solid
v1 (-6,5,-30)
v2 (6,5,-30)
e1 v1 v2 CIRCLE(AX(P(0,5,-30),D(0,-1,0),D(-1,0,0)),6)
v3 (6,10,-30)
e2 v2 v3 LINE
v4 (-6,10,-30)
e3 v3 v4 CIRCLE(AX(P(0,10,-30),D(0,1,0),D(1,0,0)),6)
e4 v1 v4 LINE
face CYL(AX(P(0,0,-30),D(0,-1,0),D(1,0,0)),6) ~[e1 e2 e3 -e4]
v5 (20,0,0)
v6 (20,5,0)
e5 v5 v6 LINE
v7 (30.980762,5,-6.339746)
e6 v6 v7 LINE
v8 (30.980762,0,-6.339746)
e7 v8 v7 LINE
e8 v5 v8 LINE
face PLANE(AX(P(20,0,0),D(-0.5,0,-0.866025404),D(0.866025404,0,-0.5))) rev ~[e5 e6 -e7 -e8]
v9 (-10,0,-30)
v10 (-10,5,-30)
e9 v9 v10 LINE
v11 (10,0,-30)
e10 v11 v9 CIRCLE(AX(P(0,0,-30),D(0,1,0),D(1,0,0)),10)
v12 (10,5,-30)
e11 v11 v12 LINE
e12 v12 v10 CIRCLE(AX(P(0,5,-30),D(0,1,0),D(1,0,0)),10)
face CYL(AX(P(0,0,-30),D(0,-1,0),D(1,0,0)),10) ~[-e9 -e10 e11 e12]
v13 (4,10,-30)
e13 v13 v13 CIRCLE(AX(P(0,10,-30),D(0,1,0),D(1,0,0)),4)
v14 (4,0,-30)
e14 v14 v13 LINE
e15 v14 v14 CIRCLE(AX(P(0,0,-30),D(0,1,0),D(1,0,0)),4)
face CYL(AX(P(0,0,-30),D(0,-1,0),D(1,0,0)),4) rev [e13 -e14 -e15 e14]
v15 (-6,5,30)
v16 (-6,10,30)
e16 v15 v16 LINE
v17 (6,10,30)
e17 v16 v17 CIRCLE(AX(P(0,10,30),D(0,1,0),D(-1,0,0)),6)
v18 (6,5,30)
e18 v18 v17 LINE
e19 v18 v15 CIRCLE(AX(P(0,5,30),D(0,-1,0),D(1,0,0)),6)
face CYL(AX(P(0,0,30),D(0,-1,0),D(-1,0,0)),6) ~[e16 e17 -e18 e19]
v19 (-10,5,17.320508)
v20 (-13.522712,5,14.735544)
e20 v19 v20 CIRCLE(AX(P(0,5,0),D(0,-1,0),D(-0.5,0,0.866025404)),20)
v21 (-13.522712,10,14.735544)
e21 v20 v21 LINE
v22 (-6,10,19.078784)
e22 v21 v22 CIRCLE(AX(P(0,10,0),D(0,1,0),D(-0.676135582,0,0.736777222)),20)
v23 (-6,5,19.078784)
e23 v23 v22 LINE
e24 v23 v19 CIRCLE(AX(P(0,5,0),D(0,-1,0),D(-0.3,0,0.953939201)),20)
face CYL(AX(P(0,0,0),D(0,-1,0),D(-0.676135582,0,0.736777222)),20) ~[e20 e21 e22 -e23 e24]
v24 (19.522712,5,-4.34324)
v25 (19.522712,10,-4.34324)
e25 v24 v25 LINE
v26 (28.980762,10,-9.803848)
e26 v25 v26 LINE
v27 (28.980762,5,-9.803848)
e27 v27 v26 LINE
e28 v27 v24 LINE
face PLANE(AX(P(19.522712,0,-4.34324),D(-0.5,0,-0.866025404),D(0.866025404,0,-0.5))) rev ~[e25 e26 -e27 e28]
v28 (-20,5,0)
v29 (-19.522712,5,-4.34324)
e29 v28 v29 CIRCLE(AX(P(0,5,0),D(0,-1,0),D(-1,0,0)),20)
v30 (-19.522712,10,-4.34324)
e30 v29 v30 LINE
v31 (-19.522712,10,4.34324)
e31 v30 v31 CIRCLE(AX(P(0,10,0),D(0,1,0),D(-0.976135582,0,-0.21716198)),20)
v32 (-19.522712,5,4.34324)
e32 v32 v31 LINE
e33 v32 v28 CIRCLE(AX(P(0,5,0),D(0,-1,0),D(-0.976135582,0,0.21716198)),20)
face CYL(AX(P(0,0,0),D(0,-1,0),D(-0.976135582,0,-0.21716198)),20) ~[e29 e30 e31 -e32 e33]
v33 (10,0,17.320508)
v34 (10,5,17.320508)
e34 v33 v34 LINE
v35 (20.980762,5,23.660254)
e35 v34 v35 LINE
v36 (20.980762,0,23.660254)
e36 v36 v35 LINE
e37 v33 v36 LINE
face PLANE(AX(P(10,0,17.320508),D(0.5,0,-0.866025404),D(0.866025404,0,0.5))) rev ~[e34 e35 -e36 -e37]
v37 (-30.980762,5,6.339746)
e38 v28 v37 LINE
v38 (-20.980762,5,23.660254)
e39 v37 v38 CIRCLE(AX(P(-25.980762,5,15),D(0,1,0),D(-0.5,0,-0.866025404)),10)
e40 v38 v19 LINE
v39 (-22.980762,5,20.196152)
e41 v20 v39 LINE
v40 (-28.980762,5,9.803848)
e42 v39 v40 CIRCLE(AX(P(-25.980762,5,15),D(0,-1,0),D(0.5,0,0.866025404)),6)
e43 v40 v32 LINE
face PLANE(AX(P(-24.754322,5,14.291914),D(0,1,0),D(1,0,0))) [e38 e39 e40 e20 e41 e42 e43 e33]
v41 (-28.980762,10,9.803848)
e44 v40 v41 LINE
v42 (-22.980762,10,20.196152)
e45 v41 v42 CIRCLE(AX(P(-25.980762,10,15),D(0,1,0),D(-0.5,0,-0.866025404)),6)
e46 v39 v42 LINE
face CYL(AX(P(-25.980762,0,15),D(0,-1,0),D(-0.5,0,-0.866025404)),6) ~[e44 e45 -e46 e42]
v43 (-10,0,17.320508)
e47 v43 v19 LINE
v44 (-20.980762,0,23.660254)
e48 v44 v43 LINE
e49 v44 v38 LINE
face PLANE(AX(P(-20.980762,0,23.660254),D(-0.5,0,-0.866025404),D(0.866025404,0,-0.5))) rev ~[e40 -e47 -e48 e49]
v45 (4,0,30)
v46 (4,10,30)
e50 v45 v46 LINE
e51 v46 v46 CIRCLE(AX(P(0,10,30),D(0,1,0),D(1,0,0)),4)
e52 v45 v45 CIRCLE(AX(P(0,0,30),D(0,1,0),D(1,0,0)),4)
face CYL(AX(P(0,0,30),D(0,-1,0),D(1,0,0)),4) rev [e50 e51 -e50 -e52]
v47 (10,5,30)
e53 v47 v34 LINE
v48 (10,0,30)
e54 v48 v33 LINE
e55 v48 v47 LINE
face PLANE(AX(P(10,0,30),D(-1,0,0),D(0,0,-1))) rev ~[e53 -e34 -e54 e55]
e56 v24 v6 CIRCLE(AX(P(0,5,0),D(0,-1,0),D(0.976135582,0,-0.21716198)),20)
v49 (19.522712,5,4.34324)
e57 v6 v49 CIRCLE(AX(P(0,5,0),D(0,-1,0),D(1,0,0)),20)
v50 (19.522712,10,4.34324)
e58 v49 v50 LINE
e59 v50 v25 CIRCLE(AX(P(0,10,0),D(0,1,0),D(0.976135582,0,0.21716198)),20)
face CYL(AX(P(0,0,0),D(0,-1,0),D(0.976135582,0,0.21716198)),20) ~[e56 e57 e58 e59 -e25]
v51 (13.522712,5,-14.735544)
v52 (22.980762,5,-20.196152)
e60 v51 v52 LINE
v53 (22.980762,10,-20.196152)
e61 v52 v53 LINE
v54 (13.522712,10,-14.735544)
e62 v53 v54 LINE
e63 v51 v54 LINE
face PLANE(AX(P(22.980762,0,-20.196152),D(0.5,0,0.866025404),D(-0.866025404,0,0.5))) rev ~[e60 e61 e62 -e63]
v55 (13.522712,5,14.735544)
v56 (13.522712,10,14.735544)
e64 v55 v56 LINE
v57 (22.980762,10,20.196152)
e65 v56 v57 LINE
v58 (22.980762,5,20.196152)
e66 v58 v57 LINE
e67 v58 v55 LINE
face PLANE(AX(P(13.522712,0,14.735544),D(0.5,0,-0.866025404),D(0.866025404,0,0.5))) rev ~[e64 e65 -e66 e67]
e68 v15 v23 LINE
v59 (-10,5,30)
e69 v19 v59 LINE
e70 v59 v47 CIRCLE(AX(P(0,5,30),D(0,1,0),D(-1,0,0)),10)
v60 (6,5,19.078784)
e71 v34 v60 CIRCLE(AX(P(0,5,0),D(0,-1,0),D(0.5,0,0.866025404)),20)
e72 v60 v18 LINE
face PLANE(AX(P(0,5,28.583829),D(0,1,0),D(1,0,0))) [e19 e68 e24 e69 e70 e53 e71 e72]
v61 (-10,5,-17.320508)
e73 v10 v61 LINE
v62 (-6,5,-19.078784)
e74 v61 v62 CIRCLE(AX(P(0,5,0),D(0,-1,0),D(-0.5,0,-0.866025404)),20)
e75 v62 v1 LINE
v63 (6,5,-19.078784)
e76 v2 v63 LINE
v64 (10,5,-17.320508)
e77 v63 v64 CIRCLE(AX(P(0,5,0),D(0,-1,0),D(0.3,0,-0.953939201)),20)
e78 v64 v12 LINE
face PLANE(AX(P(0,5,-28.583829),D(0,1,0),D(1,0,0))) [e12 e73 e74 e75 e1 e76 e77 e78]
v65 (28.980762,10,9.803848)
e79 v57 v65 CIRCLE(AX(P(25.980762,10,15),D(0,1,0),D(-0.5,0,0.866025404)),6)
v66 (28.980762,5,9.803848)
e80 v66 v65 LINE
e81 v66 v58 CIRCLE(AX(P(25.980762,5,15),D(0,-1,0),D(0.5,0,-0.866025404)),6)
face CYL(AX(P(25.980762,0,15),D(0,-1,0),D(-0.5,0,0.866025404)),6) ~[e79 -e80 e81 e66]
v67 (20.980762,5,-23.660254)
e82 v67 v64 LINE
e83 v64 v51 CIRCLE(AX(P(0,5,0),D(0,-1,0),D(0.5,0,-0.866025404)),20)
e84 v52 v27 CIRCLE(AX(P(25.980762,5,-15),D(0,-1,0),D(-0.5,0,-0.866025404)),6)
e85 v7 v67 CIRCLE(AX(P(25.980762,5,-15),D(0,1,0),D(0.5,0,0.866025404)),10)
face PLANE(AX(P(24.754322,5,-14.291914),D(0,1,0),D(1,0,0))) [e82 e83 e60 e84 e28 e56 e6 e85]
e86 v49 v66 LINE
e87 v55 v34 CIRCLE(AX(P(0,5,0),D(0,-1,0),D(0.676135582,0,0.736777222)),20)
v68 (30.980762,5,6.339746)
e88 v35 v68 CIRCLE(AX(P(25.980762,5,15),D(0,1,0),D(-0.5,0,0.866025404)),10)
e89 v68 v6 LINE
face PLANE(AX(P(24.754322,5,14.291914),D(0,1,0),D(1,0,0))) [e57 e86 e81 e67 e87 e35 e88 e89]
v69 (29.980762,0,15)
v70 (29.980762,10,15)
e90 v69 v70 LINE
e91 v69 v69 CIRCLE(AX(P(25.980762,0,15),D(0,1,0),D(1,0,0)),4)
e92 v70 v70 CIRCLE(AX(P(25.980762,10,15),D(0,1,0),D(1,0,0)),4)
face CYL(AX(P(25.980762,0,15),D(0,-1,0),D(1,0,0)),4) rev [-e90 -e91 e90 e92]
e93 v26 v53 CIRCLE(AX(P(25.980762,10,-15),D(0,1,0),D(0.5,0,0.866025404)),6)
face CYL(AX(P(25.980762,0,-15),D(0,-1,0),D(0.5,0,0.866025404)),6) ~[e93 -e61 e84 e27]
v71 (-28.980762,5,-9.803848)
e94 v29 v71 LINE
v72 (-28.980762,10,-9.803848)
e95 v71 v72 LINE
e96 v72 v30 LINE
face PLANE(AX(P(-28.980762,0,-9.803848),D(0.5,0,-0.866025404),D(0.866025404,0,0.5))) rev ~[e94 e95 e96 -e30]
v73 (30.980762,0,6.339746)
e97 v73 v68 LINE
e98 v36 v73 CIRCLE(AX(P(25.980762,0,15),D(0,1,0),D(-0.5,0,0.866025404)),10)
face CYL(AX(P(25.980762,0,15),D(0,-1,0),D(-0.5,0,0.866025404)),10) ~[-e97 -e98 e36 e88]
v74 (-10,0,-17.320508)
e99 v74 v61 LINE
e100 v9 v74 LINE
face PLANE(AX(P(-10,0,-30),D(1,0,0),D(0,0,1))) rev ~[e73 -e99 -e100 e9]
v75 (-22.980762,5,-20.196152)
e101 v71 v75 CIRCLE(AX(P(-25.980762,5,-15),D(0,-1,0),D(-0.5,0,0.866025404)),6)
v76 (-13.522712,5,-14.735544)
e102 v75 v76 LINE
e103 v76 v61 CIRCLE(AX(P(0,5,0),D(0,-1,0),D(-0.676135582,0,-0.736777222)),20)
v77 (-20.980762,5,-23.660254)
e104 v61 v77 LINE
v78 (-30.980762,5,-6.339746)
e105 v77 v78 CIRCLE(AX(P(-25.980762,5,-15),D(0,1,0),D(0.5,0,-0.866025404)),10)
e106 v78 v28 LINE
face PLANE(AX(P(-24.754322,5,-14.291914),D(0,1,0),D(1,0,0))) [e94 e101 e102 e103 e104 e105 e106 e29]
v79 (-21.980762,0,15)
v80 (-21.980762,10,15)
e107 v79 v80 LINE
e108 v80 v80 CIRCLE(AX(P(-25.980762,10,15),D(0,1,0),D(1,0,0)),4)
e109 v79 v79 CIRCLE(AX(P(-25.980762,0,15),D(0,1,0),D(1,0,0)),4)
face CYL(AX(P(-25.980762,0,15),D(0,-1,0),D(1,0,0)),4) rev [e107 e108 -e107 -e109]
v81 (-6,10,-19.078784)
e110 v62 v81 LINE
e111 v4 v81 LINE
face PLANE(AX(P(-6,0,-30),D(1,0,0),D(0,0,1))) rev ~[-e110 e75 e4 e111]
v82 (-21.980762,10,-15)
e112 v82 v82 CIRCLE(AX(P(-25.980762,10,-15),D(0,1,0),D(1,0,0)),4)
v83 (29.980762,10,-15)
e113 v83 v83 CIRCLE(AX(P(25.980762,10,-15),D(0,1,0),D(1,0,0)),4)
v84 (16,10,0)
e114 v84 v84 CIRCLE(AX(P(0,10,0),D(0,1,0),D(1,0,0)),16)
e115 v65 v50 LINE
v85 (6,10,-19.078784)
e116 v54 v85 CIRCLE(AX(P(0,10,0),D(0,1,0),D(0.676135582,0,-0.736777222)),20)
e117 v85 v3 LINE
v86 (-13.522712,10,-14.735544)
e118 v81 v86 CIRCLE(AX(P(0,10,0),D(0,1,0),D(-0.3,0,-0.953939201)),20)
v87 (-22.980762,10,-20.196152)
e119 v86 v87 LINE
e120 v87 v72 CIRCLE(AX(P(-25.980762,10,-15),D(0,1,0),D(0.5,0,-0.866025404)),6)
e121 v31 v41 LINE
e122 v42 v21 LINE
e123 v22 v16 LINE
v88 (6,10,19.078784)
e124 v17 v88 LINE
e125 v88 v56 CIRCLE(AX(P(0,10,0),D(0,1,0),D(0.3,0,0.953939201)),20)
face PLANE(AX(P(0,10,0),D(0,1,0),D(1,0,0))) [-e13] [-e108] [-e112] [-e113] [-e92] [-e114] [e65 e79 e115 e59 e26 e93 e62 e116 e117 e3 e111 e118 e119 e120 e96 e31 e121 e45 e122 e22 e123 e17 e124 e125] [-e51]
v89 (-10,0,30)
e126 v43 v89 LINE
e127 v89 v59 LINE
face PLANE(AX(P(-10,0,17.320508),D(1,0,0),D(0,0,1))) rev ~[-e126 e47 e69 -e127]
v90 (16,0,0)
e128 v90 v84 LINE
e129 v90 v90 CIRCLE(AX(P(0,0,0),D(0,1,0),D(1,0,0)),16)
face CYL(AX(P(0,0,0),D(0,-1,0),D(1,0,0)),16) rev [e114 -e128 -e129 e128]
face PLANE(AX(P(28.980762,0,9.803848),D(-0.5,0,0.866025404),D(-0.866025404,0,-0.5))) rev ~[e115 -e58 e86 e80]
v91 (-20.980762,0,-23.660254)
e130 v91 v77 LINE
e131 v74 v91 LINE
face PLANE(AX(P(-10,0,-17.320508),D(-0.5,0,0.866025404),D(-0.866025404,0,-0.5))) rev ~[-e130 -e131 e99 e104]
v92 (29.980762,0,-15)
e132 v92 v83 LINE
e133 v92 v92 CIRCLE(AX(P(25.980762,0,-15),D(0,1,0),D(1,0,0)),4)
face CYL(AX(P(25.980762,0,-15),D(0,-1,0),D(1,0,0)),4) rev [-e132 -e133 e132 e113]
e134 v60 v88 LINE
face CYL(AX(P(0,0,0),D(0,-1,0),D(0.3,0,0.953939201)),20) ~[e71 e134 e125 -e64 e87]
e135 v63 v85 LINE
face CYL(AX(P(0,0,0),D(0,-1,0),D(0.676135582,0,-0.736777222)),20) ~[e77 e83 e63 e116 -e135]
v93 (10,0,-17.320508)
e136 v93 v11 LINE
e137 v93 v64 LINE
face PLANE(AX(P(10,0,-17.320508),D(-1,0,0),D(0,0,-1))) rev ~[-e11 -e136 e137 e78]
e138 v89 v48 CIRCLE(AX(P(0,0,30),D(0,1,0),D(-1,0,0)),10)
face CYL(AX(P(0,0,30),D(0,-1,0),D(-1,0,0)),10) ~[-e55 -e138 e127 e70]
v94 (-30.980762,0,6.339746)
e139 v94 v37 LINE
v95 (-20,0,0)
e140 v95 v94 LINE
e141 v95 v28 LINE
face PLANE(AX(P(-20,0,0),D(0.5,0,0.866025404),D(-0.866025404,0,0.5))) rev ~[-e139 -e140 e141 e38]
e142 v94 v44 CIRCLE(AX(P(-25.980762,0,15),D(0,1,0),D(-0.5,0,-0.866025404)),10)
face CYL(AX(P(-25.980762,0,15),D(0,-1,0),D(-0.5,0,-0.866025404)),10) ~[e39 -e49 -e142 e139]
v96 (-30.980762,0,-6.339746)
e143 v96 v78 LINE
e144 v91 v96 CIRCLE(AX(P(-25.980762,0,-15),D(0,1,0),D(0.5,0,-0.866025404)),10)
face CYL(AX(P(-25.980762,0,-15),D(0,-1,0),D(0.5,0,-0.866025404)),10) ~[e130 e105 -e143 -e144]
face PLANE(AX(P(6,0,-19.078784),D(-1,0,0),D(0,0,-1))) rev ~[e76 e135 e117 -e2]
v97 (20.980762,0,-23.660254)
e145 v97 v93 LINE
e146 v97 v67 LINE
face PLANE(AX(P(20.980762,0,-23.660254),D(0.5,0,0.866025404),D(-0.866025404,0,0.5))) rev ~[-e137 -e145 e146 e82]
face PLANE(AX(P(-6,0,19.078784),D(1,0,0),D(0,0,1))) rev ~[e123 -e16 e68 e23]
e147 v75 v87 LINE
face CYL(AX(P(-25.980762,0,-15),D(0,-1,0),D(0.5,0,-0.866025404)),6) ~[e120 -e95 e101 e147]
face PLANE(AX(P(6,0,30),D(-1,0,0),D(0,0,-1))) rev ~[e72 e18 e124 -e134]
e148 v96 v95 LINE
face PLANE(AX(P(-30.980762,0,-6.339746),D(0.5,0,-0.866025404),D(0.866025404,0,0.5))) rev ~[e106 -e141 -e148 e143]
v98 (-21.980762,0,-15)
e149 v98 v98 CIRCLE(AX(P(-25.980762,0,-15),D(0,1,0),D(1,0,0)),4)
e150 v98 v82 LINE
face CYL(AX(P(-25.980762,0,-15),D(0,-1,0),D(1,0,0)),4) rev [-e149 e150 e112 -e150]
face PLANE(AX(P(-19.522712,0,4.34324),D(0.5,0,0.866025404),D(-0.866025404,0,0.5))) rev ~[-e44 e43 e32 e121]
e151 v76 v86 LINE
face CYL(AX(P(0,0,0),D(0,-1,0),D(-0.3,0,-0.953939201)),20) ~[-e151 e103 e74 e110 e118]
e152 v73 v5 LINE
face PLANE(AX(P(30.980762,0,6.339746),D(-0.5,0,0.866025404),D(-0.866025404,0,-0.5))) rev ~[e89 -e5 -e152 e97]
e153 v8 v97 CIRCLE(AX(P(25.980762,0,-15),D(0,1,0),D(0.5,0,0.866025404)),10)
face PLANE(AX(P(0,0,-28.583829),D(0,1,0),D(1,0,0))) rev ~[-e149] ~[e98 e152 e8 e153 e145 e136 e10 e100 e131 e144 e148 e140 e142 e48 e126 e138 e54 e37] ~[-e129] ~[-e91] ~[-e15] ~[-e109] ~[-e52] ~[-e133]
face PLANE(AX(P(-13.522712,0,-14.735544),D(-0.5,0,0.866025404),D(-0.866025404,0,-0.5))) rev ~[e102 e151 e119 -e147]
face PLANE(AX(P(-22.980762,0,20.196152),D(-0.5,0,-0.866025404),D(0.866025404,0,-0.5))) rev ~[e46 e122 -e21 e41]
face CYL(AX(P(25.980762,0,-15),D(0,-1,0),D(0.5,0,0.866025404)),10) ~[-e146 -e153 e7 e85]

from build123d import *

# Parameters (mm, degrees)
SKETCH1_R           = 4
SKETCH1_R_2         = 16
BOSS_EXTRUDE1_DEPTH = 10
BOSS_EXTRUDE2_DEPTH = 5


with BuildPart() as part:
    # Sketch1 → Boss-Extrude1 (new body)
    with BuildSketch(Plane(origin=(0, 0, 0), x_dir=(1, 0, 0), z_dir=(0, 1, 0))):
        with BuildLine():
            ThreePointArc((-6, -30), (0, -36), (6, -30))
            Line((6, -30), (6, -19.078784028))
            ThreePointArc((6, -19.078784028), (10, -17.320508076), (13.522711642, -14.735544437))
            Line((13.522711642, -14.735544437), (22.980762114, -20.196152423))
            ThreePointArc((22.980762114, -20.196152423), (31.176914536, -18), (28.980762114, -9.803847577))
            Line((28.980762114, -9.803847577), (19.522711642, -4.343239591))
            ThreePointArc((19.522711642, -4.343239591), (20, 0), (19.522711642, 4.343239591))
            Line((19.522711642, 4.343239591), (28.980762114, 9.803847577))
            ThreePointArc((28.980762114, 9.803847577), (31.176914536, 18), (22.980762114, 20.196152423))
            Line((22.980762114, 20.196152423), (13.522711642, 14.735544437))
            ThreePointArc((13.522711642, 14.735544437), (10, 17.320508076), (6, 19.078784028))
            Line((6, 19.078784028), (6, 30))
            ThreePointArc((6, 30), (0, 36), (-6, 30))
            Line((-6, 30), (-6, 19.078784028))
            ThreePointArc((-6, 19.078784028), (-10, 17.320508076), (-13.522711642, 14.735544437))
            Line((-13.522711642, 14.735544437), (-22.980762114, 20.196152423))
            ThreePointArc((-22.980762114, 20.196152423), (-31.176914536, 18), (-28.980762114, 9.803847577))
            Line((-28.980762114, 9.803847577), (-19.522711642, 4.343239591))
            ThreePointArc((-19.522711642, 4.343239591), (-20, 0), (-19.522711642, -4.343239591))
            Line((-19.522711642, -4.343239591), (-28.980762114, -9.803847577))
            ThreePointArc((-28.980762114, -9.803847577), (-31.176914536, -18), (-22.980762114, -20.196152423))
            Line((-22.980762114, -20.196152423), (-13.522711642, -14.735544437))
            ThreePointArc((-13.522711642, -14.735544437), (-10, -17.320508076), (-6, -19.078784028))
            Line((-6, -19.078784028), (-6, -30))
        make_face()
        with Locations((0, 30)):
            Circle(SKETCH1_R, mode=Mode.SUBTRACT)
        Circle(SKETCH1_R_2, mode=Mode.SUBTRACT)
        with Locations((0, -30)):
            Circle(SKETCH1_R, mode=Mode.SUBTRACT)
        with Locations((-25.980762114, -15)):
            Circle(SKETCH1_R, mode=Mode.SUBTRACT)
        with Locations((-25.980762114, 15)):
            Circle(SKETCH1_R, mode=Mode.SUBTRACT)
        with Locations((25.980762114, -15)):
            Circle(SKETCH1_R, mode=Mode.SUBTRACT)
        with Locations((25.980762114, 15)):
            Circle(SKETCH1_R, mode=Mode.SUBTRACT)
    extrude(amount=BOSS_EXTRUDE1_DEPTH)

    # Sketch1<5> → Boss-Extrude2 (add)
    with BuildSketch(Plane(origin=(0, 0, 0), x_dir=(1, 0, 0), z_dir=(0, 1, 0))):
        with BuildLine():
            ThreePointArc((10, 30), (0, 40), (-10, 30))
            Line((-10, 30), (-10, 17.320508076))
            ThreePointArc((-10, 17.320508076), (-8.048160261, 18.309208514), (-6, 19.078784028))
            Line((-6, 19.078784028), (-6, 30))
            ThreePointArc((-6, 30), (0, 36), (6, 30))
            Line((6, 30), (6, 19.078784028))
            ThreePointArc((6, 19.078784028), (8.048160261, 18.309208514), (10, 17.320508076))
            Line((10, 17.320508076), (10, 30))
        make_face()
        with BuildLine():
            ThreePointArc((-13.522711642, 14.735544437), (-11.832159566, 16.124515497), (-10, 17.320508076))
            Line((-10, 17.320508076), (-20.980762114, 23.660254038))
            ThreePointArc((-20.980762114, 23.660254038), (-34.641016151, 20), (-30.980762114, 6.339745962))
            Line((-30.980762114, 6.339745962), (-20, 0))
            ThreePointArc((-20, 0), (-19.880319827, 2.184693018), (-19.522711642, 4.343239591))
            Line((-19.522711642, 4.343239591), (-28.980762114, 9.803847577))
            ThreePointArc((-28.980762114, 9.803847577), (-31.176914536, 18), (-22.980762114, 20.196152423))
            Line((-22.980762114, 20.196152423), (-13.522711642, 14.735544437))
        make_face()
        with BuildLine():
            Line((20.980762114, 23.660254038), (10, 17.320508076))
            ThreePointArc((10, 17.320508076), (11.832159566, 16.124515497), (13.522711642, 14.735544437))
            Line((13.522711642, 14.735544437), (22.980762114, 20.196152423))
            ThreePointArc((22.980762114, 20.196152423), (31.176914536, 18), (28.980762114, 9.803847577))
            Line((28.980762114, 9.803847577), (19.522711642, 4.343239591))
            ThreePointArc((19.522711642, 4.343239591), (19.880319827, 2.184693018), (20, 0))
            Line((20, 0), (30.980762114, 6.339745962))
            ThreePointArc((30.980762114, 6.339745962), (34.641016151, 20), (20.980762114, 23.660254038))
        make_face()
        with BuildLine():
            ThreePointArc((-19.522711642, -4.343239591), (-19.880319827, -2.184693018), (-20, 0))
            Line((-20, 0), (-30.980762114, -6.339745962))
            ThreePointArc((-30.980762114, -6.339745962), (-34.641016151, -20), (-20.980762114, -23.660254038))
            Line((-20.980762114, -23.660254038), (-10, -17.320508076))
            ThreePointArc((-10, -17.320508076), (-11.832159566, -16.124515497), (-13.522711642, -14.735544437))
            Line((-13.522711642, -14.735544437), (-22.980762114, -20.196152423))
            ThreePointArc((-22.980762114, -20.196152423), (-31.176914536, -18), (-28.980762114, -9.803847577))
            Line((-28.980762114, -9.803847577), (-19.522711642, -4.343239591))
        make_face()
        with BuildLine():
            Line((30.980762114, -6.339745962), (20, 0))
            ThreePointArc((20, 0), (19.880319827, -2.184693018), (19.522711642, -4.343239591))
            Line((19.522711642, -4.343239591), (28.980762114, -9.803847577))
            ThreePointArc((28.980762114, -9.803847577), (31.176914536, -18), (22.980762114, -20.196152423))
            Line((22.980762114, -20.196152423), (13.522711642, -14.735544437))
            ThreePointArc((13.522711642, -14.735544437), (11.832159566, -16.124515497), (10, -17.320508076))
            Line((10, -17.320508076), (20.980762114, -23.660254038))
            ThreePointArc((20.980762114, -23.660254038), (34.641016151, -20), (30.980762114, -6.339745962))
        make_face()
        with BuildLine():
            ThreePointArc((-6, -19.078784028), (-8.048160261, -18.309208514), (-10, -17.320508076))
            Line((-10, -17.320508076), (-10, -30))
            ThreePointArc((-10, -30), (0, -40), (10, -30))
            Line((10, -30), (10, -17.320508076))
            ThreePointArc((10, -17.320508076), (8.048160261, -18.309208514), (6, -19.078784028))
            Line((6, -19.078784028), (6, -30))
            ThreePointArc((6, -30), (0, -36), (-6, -30))
            Line((-6, -30), (-6, -19.078784028))
        make_face()
    extrude(amount=BOSS_EXTRUDE2_DEPTH)


solid = part.part
